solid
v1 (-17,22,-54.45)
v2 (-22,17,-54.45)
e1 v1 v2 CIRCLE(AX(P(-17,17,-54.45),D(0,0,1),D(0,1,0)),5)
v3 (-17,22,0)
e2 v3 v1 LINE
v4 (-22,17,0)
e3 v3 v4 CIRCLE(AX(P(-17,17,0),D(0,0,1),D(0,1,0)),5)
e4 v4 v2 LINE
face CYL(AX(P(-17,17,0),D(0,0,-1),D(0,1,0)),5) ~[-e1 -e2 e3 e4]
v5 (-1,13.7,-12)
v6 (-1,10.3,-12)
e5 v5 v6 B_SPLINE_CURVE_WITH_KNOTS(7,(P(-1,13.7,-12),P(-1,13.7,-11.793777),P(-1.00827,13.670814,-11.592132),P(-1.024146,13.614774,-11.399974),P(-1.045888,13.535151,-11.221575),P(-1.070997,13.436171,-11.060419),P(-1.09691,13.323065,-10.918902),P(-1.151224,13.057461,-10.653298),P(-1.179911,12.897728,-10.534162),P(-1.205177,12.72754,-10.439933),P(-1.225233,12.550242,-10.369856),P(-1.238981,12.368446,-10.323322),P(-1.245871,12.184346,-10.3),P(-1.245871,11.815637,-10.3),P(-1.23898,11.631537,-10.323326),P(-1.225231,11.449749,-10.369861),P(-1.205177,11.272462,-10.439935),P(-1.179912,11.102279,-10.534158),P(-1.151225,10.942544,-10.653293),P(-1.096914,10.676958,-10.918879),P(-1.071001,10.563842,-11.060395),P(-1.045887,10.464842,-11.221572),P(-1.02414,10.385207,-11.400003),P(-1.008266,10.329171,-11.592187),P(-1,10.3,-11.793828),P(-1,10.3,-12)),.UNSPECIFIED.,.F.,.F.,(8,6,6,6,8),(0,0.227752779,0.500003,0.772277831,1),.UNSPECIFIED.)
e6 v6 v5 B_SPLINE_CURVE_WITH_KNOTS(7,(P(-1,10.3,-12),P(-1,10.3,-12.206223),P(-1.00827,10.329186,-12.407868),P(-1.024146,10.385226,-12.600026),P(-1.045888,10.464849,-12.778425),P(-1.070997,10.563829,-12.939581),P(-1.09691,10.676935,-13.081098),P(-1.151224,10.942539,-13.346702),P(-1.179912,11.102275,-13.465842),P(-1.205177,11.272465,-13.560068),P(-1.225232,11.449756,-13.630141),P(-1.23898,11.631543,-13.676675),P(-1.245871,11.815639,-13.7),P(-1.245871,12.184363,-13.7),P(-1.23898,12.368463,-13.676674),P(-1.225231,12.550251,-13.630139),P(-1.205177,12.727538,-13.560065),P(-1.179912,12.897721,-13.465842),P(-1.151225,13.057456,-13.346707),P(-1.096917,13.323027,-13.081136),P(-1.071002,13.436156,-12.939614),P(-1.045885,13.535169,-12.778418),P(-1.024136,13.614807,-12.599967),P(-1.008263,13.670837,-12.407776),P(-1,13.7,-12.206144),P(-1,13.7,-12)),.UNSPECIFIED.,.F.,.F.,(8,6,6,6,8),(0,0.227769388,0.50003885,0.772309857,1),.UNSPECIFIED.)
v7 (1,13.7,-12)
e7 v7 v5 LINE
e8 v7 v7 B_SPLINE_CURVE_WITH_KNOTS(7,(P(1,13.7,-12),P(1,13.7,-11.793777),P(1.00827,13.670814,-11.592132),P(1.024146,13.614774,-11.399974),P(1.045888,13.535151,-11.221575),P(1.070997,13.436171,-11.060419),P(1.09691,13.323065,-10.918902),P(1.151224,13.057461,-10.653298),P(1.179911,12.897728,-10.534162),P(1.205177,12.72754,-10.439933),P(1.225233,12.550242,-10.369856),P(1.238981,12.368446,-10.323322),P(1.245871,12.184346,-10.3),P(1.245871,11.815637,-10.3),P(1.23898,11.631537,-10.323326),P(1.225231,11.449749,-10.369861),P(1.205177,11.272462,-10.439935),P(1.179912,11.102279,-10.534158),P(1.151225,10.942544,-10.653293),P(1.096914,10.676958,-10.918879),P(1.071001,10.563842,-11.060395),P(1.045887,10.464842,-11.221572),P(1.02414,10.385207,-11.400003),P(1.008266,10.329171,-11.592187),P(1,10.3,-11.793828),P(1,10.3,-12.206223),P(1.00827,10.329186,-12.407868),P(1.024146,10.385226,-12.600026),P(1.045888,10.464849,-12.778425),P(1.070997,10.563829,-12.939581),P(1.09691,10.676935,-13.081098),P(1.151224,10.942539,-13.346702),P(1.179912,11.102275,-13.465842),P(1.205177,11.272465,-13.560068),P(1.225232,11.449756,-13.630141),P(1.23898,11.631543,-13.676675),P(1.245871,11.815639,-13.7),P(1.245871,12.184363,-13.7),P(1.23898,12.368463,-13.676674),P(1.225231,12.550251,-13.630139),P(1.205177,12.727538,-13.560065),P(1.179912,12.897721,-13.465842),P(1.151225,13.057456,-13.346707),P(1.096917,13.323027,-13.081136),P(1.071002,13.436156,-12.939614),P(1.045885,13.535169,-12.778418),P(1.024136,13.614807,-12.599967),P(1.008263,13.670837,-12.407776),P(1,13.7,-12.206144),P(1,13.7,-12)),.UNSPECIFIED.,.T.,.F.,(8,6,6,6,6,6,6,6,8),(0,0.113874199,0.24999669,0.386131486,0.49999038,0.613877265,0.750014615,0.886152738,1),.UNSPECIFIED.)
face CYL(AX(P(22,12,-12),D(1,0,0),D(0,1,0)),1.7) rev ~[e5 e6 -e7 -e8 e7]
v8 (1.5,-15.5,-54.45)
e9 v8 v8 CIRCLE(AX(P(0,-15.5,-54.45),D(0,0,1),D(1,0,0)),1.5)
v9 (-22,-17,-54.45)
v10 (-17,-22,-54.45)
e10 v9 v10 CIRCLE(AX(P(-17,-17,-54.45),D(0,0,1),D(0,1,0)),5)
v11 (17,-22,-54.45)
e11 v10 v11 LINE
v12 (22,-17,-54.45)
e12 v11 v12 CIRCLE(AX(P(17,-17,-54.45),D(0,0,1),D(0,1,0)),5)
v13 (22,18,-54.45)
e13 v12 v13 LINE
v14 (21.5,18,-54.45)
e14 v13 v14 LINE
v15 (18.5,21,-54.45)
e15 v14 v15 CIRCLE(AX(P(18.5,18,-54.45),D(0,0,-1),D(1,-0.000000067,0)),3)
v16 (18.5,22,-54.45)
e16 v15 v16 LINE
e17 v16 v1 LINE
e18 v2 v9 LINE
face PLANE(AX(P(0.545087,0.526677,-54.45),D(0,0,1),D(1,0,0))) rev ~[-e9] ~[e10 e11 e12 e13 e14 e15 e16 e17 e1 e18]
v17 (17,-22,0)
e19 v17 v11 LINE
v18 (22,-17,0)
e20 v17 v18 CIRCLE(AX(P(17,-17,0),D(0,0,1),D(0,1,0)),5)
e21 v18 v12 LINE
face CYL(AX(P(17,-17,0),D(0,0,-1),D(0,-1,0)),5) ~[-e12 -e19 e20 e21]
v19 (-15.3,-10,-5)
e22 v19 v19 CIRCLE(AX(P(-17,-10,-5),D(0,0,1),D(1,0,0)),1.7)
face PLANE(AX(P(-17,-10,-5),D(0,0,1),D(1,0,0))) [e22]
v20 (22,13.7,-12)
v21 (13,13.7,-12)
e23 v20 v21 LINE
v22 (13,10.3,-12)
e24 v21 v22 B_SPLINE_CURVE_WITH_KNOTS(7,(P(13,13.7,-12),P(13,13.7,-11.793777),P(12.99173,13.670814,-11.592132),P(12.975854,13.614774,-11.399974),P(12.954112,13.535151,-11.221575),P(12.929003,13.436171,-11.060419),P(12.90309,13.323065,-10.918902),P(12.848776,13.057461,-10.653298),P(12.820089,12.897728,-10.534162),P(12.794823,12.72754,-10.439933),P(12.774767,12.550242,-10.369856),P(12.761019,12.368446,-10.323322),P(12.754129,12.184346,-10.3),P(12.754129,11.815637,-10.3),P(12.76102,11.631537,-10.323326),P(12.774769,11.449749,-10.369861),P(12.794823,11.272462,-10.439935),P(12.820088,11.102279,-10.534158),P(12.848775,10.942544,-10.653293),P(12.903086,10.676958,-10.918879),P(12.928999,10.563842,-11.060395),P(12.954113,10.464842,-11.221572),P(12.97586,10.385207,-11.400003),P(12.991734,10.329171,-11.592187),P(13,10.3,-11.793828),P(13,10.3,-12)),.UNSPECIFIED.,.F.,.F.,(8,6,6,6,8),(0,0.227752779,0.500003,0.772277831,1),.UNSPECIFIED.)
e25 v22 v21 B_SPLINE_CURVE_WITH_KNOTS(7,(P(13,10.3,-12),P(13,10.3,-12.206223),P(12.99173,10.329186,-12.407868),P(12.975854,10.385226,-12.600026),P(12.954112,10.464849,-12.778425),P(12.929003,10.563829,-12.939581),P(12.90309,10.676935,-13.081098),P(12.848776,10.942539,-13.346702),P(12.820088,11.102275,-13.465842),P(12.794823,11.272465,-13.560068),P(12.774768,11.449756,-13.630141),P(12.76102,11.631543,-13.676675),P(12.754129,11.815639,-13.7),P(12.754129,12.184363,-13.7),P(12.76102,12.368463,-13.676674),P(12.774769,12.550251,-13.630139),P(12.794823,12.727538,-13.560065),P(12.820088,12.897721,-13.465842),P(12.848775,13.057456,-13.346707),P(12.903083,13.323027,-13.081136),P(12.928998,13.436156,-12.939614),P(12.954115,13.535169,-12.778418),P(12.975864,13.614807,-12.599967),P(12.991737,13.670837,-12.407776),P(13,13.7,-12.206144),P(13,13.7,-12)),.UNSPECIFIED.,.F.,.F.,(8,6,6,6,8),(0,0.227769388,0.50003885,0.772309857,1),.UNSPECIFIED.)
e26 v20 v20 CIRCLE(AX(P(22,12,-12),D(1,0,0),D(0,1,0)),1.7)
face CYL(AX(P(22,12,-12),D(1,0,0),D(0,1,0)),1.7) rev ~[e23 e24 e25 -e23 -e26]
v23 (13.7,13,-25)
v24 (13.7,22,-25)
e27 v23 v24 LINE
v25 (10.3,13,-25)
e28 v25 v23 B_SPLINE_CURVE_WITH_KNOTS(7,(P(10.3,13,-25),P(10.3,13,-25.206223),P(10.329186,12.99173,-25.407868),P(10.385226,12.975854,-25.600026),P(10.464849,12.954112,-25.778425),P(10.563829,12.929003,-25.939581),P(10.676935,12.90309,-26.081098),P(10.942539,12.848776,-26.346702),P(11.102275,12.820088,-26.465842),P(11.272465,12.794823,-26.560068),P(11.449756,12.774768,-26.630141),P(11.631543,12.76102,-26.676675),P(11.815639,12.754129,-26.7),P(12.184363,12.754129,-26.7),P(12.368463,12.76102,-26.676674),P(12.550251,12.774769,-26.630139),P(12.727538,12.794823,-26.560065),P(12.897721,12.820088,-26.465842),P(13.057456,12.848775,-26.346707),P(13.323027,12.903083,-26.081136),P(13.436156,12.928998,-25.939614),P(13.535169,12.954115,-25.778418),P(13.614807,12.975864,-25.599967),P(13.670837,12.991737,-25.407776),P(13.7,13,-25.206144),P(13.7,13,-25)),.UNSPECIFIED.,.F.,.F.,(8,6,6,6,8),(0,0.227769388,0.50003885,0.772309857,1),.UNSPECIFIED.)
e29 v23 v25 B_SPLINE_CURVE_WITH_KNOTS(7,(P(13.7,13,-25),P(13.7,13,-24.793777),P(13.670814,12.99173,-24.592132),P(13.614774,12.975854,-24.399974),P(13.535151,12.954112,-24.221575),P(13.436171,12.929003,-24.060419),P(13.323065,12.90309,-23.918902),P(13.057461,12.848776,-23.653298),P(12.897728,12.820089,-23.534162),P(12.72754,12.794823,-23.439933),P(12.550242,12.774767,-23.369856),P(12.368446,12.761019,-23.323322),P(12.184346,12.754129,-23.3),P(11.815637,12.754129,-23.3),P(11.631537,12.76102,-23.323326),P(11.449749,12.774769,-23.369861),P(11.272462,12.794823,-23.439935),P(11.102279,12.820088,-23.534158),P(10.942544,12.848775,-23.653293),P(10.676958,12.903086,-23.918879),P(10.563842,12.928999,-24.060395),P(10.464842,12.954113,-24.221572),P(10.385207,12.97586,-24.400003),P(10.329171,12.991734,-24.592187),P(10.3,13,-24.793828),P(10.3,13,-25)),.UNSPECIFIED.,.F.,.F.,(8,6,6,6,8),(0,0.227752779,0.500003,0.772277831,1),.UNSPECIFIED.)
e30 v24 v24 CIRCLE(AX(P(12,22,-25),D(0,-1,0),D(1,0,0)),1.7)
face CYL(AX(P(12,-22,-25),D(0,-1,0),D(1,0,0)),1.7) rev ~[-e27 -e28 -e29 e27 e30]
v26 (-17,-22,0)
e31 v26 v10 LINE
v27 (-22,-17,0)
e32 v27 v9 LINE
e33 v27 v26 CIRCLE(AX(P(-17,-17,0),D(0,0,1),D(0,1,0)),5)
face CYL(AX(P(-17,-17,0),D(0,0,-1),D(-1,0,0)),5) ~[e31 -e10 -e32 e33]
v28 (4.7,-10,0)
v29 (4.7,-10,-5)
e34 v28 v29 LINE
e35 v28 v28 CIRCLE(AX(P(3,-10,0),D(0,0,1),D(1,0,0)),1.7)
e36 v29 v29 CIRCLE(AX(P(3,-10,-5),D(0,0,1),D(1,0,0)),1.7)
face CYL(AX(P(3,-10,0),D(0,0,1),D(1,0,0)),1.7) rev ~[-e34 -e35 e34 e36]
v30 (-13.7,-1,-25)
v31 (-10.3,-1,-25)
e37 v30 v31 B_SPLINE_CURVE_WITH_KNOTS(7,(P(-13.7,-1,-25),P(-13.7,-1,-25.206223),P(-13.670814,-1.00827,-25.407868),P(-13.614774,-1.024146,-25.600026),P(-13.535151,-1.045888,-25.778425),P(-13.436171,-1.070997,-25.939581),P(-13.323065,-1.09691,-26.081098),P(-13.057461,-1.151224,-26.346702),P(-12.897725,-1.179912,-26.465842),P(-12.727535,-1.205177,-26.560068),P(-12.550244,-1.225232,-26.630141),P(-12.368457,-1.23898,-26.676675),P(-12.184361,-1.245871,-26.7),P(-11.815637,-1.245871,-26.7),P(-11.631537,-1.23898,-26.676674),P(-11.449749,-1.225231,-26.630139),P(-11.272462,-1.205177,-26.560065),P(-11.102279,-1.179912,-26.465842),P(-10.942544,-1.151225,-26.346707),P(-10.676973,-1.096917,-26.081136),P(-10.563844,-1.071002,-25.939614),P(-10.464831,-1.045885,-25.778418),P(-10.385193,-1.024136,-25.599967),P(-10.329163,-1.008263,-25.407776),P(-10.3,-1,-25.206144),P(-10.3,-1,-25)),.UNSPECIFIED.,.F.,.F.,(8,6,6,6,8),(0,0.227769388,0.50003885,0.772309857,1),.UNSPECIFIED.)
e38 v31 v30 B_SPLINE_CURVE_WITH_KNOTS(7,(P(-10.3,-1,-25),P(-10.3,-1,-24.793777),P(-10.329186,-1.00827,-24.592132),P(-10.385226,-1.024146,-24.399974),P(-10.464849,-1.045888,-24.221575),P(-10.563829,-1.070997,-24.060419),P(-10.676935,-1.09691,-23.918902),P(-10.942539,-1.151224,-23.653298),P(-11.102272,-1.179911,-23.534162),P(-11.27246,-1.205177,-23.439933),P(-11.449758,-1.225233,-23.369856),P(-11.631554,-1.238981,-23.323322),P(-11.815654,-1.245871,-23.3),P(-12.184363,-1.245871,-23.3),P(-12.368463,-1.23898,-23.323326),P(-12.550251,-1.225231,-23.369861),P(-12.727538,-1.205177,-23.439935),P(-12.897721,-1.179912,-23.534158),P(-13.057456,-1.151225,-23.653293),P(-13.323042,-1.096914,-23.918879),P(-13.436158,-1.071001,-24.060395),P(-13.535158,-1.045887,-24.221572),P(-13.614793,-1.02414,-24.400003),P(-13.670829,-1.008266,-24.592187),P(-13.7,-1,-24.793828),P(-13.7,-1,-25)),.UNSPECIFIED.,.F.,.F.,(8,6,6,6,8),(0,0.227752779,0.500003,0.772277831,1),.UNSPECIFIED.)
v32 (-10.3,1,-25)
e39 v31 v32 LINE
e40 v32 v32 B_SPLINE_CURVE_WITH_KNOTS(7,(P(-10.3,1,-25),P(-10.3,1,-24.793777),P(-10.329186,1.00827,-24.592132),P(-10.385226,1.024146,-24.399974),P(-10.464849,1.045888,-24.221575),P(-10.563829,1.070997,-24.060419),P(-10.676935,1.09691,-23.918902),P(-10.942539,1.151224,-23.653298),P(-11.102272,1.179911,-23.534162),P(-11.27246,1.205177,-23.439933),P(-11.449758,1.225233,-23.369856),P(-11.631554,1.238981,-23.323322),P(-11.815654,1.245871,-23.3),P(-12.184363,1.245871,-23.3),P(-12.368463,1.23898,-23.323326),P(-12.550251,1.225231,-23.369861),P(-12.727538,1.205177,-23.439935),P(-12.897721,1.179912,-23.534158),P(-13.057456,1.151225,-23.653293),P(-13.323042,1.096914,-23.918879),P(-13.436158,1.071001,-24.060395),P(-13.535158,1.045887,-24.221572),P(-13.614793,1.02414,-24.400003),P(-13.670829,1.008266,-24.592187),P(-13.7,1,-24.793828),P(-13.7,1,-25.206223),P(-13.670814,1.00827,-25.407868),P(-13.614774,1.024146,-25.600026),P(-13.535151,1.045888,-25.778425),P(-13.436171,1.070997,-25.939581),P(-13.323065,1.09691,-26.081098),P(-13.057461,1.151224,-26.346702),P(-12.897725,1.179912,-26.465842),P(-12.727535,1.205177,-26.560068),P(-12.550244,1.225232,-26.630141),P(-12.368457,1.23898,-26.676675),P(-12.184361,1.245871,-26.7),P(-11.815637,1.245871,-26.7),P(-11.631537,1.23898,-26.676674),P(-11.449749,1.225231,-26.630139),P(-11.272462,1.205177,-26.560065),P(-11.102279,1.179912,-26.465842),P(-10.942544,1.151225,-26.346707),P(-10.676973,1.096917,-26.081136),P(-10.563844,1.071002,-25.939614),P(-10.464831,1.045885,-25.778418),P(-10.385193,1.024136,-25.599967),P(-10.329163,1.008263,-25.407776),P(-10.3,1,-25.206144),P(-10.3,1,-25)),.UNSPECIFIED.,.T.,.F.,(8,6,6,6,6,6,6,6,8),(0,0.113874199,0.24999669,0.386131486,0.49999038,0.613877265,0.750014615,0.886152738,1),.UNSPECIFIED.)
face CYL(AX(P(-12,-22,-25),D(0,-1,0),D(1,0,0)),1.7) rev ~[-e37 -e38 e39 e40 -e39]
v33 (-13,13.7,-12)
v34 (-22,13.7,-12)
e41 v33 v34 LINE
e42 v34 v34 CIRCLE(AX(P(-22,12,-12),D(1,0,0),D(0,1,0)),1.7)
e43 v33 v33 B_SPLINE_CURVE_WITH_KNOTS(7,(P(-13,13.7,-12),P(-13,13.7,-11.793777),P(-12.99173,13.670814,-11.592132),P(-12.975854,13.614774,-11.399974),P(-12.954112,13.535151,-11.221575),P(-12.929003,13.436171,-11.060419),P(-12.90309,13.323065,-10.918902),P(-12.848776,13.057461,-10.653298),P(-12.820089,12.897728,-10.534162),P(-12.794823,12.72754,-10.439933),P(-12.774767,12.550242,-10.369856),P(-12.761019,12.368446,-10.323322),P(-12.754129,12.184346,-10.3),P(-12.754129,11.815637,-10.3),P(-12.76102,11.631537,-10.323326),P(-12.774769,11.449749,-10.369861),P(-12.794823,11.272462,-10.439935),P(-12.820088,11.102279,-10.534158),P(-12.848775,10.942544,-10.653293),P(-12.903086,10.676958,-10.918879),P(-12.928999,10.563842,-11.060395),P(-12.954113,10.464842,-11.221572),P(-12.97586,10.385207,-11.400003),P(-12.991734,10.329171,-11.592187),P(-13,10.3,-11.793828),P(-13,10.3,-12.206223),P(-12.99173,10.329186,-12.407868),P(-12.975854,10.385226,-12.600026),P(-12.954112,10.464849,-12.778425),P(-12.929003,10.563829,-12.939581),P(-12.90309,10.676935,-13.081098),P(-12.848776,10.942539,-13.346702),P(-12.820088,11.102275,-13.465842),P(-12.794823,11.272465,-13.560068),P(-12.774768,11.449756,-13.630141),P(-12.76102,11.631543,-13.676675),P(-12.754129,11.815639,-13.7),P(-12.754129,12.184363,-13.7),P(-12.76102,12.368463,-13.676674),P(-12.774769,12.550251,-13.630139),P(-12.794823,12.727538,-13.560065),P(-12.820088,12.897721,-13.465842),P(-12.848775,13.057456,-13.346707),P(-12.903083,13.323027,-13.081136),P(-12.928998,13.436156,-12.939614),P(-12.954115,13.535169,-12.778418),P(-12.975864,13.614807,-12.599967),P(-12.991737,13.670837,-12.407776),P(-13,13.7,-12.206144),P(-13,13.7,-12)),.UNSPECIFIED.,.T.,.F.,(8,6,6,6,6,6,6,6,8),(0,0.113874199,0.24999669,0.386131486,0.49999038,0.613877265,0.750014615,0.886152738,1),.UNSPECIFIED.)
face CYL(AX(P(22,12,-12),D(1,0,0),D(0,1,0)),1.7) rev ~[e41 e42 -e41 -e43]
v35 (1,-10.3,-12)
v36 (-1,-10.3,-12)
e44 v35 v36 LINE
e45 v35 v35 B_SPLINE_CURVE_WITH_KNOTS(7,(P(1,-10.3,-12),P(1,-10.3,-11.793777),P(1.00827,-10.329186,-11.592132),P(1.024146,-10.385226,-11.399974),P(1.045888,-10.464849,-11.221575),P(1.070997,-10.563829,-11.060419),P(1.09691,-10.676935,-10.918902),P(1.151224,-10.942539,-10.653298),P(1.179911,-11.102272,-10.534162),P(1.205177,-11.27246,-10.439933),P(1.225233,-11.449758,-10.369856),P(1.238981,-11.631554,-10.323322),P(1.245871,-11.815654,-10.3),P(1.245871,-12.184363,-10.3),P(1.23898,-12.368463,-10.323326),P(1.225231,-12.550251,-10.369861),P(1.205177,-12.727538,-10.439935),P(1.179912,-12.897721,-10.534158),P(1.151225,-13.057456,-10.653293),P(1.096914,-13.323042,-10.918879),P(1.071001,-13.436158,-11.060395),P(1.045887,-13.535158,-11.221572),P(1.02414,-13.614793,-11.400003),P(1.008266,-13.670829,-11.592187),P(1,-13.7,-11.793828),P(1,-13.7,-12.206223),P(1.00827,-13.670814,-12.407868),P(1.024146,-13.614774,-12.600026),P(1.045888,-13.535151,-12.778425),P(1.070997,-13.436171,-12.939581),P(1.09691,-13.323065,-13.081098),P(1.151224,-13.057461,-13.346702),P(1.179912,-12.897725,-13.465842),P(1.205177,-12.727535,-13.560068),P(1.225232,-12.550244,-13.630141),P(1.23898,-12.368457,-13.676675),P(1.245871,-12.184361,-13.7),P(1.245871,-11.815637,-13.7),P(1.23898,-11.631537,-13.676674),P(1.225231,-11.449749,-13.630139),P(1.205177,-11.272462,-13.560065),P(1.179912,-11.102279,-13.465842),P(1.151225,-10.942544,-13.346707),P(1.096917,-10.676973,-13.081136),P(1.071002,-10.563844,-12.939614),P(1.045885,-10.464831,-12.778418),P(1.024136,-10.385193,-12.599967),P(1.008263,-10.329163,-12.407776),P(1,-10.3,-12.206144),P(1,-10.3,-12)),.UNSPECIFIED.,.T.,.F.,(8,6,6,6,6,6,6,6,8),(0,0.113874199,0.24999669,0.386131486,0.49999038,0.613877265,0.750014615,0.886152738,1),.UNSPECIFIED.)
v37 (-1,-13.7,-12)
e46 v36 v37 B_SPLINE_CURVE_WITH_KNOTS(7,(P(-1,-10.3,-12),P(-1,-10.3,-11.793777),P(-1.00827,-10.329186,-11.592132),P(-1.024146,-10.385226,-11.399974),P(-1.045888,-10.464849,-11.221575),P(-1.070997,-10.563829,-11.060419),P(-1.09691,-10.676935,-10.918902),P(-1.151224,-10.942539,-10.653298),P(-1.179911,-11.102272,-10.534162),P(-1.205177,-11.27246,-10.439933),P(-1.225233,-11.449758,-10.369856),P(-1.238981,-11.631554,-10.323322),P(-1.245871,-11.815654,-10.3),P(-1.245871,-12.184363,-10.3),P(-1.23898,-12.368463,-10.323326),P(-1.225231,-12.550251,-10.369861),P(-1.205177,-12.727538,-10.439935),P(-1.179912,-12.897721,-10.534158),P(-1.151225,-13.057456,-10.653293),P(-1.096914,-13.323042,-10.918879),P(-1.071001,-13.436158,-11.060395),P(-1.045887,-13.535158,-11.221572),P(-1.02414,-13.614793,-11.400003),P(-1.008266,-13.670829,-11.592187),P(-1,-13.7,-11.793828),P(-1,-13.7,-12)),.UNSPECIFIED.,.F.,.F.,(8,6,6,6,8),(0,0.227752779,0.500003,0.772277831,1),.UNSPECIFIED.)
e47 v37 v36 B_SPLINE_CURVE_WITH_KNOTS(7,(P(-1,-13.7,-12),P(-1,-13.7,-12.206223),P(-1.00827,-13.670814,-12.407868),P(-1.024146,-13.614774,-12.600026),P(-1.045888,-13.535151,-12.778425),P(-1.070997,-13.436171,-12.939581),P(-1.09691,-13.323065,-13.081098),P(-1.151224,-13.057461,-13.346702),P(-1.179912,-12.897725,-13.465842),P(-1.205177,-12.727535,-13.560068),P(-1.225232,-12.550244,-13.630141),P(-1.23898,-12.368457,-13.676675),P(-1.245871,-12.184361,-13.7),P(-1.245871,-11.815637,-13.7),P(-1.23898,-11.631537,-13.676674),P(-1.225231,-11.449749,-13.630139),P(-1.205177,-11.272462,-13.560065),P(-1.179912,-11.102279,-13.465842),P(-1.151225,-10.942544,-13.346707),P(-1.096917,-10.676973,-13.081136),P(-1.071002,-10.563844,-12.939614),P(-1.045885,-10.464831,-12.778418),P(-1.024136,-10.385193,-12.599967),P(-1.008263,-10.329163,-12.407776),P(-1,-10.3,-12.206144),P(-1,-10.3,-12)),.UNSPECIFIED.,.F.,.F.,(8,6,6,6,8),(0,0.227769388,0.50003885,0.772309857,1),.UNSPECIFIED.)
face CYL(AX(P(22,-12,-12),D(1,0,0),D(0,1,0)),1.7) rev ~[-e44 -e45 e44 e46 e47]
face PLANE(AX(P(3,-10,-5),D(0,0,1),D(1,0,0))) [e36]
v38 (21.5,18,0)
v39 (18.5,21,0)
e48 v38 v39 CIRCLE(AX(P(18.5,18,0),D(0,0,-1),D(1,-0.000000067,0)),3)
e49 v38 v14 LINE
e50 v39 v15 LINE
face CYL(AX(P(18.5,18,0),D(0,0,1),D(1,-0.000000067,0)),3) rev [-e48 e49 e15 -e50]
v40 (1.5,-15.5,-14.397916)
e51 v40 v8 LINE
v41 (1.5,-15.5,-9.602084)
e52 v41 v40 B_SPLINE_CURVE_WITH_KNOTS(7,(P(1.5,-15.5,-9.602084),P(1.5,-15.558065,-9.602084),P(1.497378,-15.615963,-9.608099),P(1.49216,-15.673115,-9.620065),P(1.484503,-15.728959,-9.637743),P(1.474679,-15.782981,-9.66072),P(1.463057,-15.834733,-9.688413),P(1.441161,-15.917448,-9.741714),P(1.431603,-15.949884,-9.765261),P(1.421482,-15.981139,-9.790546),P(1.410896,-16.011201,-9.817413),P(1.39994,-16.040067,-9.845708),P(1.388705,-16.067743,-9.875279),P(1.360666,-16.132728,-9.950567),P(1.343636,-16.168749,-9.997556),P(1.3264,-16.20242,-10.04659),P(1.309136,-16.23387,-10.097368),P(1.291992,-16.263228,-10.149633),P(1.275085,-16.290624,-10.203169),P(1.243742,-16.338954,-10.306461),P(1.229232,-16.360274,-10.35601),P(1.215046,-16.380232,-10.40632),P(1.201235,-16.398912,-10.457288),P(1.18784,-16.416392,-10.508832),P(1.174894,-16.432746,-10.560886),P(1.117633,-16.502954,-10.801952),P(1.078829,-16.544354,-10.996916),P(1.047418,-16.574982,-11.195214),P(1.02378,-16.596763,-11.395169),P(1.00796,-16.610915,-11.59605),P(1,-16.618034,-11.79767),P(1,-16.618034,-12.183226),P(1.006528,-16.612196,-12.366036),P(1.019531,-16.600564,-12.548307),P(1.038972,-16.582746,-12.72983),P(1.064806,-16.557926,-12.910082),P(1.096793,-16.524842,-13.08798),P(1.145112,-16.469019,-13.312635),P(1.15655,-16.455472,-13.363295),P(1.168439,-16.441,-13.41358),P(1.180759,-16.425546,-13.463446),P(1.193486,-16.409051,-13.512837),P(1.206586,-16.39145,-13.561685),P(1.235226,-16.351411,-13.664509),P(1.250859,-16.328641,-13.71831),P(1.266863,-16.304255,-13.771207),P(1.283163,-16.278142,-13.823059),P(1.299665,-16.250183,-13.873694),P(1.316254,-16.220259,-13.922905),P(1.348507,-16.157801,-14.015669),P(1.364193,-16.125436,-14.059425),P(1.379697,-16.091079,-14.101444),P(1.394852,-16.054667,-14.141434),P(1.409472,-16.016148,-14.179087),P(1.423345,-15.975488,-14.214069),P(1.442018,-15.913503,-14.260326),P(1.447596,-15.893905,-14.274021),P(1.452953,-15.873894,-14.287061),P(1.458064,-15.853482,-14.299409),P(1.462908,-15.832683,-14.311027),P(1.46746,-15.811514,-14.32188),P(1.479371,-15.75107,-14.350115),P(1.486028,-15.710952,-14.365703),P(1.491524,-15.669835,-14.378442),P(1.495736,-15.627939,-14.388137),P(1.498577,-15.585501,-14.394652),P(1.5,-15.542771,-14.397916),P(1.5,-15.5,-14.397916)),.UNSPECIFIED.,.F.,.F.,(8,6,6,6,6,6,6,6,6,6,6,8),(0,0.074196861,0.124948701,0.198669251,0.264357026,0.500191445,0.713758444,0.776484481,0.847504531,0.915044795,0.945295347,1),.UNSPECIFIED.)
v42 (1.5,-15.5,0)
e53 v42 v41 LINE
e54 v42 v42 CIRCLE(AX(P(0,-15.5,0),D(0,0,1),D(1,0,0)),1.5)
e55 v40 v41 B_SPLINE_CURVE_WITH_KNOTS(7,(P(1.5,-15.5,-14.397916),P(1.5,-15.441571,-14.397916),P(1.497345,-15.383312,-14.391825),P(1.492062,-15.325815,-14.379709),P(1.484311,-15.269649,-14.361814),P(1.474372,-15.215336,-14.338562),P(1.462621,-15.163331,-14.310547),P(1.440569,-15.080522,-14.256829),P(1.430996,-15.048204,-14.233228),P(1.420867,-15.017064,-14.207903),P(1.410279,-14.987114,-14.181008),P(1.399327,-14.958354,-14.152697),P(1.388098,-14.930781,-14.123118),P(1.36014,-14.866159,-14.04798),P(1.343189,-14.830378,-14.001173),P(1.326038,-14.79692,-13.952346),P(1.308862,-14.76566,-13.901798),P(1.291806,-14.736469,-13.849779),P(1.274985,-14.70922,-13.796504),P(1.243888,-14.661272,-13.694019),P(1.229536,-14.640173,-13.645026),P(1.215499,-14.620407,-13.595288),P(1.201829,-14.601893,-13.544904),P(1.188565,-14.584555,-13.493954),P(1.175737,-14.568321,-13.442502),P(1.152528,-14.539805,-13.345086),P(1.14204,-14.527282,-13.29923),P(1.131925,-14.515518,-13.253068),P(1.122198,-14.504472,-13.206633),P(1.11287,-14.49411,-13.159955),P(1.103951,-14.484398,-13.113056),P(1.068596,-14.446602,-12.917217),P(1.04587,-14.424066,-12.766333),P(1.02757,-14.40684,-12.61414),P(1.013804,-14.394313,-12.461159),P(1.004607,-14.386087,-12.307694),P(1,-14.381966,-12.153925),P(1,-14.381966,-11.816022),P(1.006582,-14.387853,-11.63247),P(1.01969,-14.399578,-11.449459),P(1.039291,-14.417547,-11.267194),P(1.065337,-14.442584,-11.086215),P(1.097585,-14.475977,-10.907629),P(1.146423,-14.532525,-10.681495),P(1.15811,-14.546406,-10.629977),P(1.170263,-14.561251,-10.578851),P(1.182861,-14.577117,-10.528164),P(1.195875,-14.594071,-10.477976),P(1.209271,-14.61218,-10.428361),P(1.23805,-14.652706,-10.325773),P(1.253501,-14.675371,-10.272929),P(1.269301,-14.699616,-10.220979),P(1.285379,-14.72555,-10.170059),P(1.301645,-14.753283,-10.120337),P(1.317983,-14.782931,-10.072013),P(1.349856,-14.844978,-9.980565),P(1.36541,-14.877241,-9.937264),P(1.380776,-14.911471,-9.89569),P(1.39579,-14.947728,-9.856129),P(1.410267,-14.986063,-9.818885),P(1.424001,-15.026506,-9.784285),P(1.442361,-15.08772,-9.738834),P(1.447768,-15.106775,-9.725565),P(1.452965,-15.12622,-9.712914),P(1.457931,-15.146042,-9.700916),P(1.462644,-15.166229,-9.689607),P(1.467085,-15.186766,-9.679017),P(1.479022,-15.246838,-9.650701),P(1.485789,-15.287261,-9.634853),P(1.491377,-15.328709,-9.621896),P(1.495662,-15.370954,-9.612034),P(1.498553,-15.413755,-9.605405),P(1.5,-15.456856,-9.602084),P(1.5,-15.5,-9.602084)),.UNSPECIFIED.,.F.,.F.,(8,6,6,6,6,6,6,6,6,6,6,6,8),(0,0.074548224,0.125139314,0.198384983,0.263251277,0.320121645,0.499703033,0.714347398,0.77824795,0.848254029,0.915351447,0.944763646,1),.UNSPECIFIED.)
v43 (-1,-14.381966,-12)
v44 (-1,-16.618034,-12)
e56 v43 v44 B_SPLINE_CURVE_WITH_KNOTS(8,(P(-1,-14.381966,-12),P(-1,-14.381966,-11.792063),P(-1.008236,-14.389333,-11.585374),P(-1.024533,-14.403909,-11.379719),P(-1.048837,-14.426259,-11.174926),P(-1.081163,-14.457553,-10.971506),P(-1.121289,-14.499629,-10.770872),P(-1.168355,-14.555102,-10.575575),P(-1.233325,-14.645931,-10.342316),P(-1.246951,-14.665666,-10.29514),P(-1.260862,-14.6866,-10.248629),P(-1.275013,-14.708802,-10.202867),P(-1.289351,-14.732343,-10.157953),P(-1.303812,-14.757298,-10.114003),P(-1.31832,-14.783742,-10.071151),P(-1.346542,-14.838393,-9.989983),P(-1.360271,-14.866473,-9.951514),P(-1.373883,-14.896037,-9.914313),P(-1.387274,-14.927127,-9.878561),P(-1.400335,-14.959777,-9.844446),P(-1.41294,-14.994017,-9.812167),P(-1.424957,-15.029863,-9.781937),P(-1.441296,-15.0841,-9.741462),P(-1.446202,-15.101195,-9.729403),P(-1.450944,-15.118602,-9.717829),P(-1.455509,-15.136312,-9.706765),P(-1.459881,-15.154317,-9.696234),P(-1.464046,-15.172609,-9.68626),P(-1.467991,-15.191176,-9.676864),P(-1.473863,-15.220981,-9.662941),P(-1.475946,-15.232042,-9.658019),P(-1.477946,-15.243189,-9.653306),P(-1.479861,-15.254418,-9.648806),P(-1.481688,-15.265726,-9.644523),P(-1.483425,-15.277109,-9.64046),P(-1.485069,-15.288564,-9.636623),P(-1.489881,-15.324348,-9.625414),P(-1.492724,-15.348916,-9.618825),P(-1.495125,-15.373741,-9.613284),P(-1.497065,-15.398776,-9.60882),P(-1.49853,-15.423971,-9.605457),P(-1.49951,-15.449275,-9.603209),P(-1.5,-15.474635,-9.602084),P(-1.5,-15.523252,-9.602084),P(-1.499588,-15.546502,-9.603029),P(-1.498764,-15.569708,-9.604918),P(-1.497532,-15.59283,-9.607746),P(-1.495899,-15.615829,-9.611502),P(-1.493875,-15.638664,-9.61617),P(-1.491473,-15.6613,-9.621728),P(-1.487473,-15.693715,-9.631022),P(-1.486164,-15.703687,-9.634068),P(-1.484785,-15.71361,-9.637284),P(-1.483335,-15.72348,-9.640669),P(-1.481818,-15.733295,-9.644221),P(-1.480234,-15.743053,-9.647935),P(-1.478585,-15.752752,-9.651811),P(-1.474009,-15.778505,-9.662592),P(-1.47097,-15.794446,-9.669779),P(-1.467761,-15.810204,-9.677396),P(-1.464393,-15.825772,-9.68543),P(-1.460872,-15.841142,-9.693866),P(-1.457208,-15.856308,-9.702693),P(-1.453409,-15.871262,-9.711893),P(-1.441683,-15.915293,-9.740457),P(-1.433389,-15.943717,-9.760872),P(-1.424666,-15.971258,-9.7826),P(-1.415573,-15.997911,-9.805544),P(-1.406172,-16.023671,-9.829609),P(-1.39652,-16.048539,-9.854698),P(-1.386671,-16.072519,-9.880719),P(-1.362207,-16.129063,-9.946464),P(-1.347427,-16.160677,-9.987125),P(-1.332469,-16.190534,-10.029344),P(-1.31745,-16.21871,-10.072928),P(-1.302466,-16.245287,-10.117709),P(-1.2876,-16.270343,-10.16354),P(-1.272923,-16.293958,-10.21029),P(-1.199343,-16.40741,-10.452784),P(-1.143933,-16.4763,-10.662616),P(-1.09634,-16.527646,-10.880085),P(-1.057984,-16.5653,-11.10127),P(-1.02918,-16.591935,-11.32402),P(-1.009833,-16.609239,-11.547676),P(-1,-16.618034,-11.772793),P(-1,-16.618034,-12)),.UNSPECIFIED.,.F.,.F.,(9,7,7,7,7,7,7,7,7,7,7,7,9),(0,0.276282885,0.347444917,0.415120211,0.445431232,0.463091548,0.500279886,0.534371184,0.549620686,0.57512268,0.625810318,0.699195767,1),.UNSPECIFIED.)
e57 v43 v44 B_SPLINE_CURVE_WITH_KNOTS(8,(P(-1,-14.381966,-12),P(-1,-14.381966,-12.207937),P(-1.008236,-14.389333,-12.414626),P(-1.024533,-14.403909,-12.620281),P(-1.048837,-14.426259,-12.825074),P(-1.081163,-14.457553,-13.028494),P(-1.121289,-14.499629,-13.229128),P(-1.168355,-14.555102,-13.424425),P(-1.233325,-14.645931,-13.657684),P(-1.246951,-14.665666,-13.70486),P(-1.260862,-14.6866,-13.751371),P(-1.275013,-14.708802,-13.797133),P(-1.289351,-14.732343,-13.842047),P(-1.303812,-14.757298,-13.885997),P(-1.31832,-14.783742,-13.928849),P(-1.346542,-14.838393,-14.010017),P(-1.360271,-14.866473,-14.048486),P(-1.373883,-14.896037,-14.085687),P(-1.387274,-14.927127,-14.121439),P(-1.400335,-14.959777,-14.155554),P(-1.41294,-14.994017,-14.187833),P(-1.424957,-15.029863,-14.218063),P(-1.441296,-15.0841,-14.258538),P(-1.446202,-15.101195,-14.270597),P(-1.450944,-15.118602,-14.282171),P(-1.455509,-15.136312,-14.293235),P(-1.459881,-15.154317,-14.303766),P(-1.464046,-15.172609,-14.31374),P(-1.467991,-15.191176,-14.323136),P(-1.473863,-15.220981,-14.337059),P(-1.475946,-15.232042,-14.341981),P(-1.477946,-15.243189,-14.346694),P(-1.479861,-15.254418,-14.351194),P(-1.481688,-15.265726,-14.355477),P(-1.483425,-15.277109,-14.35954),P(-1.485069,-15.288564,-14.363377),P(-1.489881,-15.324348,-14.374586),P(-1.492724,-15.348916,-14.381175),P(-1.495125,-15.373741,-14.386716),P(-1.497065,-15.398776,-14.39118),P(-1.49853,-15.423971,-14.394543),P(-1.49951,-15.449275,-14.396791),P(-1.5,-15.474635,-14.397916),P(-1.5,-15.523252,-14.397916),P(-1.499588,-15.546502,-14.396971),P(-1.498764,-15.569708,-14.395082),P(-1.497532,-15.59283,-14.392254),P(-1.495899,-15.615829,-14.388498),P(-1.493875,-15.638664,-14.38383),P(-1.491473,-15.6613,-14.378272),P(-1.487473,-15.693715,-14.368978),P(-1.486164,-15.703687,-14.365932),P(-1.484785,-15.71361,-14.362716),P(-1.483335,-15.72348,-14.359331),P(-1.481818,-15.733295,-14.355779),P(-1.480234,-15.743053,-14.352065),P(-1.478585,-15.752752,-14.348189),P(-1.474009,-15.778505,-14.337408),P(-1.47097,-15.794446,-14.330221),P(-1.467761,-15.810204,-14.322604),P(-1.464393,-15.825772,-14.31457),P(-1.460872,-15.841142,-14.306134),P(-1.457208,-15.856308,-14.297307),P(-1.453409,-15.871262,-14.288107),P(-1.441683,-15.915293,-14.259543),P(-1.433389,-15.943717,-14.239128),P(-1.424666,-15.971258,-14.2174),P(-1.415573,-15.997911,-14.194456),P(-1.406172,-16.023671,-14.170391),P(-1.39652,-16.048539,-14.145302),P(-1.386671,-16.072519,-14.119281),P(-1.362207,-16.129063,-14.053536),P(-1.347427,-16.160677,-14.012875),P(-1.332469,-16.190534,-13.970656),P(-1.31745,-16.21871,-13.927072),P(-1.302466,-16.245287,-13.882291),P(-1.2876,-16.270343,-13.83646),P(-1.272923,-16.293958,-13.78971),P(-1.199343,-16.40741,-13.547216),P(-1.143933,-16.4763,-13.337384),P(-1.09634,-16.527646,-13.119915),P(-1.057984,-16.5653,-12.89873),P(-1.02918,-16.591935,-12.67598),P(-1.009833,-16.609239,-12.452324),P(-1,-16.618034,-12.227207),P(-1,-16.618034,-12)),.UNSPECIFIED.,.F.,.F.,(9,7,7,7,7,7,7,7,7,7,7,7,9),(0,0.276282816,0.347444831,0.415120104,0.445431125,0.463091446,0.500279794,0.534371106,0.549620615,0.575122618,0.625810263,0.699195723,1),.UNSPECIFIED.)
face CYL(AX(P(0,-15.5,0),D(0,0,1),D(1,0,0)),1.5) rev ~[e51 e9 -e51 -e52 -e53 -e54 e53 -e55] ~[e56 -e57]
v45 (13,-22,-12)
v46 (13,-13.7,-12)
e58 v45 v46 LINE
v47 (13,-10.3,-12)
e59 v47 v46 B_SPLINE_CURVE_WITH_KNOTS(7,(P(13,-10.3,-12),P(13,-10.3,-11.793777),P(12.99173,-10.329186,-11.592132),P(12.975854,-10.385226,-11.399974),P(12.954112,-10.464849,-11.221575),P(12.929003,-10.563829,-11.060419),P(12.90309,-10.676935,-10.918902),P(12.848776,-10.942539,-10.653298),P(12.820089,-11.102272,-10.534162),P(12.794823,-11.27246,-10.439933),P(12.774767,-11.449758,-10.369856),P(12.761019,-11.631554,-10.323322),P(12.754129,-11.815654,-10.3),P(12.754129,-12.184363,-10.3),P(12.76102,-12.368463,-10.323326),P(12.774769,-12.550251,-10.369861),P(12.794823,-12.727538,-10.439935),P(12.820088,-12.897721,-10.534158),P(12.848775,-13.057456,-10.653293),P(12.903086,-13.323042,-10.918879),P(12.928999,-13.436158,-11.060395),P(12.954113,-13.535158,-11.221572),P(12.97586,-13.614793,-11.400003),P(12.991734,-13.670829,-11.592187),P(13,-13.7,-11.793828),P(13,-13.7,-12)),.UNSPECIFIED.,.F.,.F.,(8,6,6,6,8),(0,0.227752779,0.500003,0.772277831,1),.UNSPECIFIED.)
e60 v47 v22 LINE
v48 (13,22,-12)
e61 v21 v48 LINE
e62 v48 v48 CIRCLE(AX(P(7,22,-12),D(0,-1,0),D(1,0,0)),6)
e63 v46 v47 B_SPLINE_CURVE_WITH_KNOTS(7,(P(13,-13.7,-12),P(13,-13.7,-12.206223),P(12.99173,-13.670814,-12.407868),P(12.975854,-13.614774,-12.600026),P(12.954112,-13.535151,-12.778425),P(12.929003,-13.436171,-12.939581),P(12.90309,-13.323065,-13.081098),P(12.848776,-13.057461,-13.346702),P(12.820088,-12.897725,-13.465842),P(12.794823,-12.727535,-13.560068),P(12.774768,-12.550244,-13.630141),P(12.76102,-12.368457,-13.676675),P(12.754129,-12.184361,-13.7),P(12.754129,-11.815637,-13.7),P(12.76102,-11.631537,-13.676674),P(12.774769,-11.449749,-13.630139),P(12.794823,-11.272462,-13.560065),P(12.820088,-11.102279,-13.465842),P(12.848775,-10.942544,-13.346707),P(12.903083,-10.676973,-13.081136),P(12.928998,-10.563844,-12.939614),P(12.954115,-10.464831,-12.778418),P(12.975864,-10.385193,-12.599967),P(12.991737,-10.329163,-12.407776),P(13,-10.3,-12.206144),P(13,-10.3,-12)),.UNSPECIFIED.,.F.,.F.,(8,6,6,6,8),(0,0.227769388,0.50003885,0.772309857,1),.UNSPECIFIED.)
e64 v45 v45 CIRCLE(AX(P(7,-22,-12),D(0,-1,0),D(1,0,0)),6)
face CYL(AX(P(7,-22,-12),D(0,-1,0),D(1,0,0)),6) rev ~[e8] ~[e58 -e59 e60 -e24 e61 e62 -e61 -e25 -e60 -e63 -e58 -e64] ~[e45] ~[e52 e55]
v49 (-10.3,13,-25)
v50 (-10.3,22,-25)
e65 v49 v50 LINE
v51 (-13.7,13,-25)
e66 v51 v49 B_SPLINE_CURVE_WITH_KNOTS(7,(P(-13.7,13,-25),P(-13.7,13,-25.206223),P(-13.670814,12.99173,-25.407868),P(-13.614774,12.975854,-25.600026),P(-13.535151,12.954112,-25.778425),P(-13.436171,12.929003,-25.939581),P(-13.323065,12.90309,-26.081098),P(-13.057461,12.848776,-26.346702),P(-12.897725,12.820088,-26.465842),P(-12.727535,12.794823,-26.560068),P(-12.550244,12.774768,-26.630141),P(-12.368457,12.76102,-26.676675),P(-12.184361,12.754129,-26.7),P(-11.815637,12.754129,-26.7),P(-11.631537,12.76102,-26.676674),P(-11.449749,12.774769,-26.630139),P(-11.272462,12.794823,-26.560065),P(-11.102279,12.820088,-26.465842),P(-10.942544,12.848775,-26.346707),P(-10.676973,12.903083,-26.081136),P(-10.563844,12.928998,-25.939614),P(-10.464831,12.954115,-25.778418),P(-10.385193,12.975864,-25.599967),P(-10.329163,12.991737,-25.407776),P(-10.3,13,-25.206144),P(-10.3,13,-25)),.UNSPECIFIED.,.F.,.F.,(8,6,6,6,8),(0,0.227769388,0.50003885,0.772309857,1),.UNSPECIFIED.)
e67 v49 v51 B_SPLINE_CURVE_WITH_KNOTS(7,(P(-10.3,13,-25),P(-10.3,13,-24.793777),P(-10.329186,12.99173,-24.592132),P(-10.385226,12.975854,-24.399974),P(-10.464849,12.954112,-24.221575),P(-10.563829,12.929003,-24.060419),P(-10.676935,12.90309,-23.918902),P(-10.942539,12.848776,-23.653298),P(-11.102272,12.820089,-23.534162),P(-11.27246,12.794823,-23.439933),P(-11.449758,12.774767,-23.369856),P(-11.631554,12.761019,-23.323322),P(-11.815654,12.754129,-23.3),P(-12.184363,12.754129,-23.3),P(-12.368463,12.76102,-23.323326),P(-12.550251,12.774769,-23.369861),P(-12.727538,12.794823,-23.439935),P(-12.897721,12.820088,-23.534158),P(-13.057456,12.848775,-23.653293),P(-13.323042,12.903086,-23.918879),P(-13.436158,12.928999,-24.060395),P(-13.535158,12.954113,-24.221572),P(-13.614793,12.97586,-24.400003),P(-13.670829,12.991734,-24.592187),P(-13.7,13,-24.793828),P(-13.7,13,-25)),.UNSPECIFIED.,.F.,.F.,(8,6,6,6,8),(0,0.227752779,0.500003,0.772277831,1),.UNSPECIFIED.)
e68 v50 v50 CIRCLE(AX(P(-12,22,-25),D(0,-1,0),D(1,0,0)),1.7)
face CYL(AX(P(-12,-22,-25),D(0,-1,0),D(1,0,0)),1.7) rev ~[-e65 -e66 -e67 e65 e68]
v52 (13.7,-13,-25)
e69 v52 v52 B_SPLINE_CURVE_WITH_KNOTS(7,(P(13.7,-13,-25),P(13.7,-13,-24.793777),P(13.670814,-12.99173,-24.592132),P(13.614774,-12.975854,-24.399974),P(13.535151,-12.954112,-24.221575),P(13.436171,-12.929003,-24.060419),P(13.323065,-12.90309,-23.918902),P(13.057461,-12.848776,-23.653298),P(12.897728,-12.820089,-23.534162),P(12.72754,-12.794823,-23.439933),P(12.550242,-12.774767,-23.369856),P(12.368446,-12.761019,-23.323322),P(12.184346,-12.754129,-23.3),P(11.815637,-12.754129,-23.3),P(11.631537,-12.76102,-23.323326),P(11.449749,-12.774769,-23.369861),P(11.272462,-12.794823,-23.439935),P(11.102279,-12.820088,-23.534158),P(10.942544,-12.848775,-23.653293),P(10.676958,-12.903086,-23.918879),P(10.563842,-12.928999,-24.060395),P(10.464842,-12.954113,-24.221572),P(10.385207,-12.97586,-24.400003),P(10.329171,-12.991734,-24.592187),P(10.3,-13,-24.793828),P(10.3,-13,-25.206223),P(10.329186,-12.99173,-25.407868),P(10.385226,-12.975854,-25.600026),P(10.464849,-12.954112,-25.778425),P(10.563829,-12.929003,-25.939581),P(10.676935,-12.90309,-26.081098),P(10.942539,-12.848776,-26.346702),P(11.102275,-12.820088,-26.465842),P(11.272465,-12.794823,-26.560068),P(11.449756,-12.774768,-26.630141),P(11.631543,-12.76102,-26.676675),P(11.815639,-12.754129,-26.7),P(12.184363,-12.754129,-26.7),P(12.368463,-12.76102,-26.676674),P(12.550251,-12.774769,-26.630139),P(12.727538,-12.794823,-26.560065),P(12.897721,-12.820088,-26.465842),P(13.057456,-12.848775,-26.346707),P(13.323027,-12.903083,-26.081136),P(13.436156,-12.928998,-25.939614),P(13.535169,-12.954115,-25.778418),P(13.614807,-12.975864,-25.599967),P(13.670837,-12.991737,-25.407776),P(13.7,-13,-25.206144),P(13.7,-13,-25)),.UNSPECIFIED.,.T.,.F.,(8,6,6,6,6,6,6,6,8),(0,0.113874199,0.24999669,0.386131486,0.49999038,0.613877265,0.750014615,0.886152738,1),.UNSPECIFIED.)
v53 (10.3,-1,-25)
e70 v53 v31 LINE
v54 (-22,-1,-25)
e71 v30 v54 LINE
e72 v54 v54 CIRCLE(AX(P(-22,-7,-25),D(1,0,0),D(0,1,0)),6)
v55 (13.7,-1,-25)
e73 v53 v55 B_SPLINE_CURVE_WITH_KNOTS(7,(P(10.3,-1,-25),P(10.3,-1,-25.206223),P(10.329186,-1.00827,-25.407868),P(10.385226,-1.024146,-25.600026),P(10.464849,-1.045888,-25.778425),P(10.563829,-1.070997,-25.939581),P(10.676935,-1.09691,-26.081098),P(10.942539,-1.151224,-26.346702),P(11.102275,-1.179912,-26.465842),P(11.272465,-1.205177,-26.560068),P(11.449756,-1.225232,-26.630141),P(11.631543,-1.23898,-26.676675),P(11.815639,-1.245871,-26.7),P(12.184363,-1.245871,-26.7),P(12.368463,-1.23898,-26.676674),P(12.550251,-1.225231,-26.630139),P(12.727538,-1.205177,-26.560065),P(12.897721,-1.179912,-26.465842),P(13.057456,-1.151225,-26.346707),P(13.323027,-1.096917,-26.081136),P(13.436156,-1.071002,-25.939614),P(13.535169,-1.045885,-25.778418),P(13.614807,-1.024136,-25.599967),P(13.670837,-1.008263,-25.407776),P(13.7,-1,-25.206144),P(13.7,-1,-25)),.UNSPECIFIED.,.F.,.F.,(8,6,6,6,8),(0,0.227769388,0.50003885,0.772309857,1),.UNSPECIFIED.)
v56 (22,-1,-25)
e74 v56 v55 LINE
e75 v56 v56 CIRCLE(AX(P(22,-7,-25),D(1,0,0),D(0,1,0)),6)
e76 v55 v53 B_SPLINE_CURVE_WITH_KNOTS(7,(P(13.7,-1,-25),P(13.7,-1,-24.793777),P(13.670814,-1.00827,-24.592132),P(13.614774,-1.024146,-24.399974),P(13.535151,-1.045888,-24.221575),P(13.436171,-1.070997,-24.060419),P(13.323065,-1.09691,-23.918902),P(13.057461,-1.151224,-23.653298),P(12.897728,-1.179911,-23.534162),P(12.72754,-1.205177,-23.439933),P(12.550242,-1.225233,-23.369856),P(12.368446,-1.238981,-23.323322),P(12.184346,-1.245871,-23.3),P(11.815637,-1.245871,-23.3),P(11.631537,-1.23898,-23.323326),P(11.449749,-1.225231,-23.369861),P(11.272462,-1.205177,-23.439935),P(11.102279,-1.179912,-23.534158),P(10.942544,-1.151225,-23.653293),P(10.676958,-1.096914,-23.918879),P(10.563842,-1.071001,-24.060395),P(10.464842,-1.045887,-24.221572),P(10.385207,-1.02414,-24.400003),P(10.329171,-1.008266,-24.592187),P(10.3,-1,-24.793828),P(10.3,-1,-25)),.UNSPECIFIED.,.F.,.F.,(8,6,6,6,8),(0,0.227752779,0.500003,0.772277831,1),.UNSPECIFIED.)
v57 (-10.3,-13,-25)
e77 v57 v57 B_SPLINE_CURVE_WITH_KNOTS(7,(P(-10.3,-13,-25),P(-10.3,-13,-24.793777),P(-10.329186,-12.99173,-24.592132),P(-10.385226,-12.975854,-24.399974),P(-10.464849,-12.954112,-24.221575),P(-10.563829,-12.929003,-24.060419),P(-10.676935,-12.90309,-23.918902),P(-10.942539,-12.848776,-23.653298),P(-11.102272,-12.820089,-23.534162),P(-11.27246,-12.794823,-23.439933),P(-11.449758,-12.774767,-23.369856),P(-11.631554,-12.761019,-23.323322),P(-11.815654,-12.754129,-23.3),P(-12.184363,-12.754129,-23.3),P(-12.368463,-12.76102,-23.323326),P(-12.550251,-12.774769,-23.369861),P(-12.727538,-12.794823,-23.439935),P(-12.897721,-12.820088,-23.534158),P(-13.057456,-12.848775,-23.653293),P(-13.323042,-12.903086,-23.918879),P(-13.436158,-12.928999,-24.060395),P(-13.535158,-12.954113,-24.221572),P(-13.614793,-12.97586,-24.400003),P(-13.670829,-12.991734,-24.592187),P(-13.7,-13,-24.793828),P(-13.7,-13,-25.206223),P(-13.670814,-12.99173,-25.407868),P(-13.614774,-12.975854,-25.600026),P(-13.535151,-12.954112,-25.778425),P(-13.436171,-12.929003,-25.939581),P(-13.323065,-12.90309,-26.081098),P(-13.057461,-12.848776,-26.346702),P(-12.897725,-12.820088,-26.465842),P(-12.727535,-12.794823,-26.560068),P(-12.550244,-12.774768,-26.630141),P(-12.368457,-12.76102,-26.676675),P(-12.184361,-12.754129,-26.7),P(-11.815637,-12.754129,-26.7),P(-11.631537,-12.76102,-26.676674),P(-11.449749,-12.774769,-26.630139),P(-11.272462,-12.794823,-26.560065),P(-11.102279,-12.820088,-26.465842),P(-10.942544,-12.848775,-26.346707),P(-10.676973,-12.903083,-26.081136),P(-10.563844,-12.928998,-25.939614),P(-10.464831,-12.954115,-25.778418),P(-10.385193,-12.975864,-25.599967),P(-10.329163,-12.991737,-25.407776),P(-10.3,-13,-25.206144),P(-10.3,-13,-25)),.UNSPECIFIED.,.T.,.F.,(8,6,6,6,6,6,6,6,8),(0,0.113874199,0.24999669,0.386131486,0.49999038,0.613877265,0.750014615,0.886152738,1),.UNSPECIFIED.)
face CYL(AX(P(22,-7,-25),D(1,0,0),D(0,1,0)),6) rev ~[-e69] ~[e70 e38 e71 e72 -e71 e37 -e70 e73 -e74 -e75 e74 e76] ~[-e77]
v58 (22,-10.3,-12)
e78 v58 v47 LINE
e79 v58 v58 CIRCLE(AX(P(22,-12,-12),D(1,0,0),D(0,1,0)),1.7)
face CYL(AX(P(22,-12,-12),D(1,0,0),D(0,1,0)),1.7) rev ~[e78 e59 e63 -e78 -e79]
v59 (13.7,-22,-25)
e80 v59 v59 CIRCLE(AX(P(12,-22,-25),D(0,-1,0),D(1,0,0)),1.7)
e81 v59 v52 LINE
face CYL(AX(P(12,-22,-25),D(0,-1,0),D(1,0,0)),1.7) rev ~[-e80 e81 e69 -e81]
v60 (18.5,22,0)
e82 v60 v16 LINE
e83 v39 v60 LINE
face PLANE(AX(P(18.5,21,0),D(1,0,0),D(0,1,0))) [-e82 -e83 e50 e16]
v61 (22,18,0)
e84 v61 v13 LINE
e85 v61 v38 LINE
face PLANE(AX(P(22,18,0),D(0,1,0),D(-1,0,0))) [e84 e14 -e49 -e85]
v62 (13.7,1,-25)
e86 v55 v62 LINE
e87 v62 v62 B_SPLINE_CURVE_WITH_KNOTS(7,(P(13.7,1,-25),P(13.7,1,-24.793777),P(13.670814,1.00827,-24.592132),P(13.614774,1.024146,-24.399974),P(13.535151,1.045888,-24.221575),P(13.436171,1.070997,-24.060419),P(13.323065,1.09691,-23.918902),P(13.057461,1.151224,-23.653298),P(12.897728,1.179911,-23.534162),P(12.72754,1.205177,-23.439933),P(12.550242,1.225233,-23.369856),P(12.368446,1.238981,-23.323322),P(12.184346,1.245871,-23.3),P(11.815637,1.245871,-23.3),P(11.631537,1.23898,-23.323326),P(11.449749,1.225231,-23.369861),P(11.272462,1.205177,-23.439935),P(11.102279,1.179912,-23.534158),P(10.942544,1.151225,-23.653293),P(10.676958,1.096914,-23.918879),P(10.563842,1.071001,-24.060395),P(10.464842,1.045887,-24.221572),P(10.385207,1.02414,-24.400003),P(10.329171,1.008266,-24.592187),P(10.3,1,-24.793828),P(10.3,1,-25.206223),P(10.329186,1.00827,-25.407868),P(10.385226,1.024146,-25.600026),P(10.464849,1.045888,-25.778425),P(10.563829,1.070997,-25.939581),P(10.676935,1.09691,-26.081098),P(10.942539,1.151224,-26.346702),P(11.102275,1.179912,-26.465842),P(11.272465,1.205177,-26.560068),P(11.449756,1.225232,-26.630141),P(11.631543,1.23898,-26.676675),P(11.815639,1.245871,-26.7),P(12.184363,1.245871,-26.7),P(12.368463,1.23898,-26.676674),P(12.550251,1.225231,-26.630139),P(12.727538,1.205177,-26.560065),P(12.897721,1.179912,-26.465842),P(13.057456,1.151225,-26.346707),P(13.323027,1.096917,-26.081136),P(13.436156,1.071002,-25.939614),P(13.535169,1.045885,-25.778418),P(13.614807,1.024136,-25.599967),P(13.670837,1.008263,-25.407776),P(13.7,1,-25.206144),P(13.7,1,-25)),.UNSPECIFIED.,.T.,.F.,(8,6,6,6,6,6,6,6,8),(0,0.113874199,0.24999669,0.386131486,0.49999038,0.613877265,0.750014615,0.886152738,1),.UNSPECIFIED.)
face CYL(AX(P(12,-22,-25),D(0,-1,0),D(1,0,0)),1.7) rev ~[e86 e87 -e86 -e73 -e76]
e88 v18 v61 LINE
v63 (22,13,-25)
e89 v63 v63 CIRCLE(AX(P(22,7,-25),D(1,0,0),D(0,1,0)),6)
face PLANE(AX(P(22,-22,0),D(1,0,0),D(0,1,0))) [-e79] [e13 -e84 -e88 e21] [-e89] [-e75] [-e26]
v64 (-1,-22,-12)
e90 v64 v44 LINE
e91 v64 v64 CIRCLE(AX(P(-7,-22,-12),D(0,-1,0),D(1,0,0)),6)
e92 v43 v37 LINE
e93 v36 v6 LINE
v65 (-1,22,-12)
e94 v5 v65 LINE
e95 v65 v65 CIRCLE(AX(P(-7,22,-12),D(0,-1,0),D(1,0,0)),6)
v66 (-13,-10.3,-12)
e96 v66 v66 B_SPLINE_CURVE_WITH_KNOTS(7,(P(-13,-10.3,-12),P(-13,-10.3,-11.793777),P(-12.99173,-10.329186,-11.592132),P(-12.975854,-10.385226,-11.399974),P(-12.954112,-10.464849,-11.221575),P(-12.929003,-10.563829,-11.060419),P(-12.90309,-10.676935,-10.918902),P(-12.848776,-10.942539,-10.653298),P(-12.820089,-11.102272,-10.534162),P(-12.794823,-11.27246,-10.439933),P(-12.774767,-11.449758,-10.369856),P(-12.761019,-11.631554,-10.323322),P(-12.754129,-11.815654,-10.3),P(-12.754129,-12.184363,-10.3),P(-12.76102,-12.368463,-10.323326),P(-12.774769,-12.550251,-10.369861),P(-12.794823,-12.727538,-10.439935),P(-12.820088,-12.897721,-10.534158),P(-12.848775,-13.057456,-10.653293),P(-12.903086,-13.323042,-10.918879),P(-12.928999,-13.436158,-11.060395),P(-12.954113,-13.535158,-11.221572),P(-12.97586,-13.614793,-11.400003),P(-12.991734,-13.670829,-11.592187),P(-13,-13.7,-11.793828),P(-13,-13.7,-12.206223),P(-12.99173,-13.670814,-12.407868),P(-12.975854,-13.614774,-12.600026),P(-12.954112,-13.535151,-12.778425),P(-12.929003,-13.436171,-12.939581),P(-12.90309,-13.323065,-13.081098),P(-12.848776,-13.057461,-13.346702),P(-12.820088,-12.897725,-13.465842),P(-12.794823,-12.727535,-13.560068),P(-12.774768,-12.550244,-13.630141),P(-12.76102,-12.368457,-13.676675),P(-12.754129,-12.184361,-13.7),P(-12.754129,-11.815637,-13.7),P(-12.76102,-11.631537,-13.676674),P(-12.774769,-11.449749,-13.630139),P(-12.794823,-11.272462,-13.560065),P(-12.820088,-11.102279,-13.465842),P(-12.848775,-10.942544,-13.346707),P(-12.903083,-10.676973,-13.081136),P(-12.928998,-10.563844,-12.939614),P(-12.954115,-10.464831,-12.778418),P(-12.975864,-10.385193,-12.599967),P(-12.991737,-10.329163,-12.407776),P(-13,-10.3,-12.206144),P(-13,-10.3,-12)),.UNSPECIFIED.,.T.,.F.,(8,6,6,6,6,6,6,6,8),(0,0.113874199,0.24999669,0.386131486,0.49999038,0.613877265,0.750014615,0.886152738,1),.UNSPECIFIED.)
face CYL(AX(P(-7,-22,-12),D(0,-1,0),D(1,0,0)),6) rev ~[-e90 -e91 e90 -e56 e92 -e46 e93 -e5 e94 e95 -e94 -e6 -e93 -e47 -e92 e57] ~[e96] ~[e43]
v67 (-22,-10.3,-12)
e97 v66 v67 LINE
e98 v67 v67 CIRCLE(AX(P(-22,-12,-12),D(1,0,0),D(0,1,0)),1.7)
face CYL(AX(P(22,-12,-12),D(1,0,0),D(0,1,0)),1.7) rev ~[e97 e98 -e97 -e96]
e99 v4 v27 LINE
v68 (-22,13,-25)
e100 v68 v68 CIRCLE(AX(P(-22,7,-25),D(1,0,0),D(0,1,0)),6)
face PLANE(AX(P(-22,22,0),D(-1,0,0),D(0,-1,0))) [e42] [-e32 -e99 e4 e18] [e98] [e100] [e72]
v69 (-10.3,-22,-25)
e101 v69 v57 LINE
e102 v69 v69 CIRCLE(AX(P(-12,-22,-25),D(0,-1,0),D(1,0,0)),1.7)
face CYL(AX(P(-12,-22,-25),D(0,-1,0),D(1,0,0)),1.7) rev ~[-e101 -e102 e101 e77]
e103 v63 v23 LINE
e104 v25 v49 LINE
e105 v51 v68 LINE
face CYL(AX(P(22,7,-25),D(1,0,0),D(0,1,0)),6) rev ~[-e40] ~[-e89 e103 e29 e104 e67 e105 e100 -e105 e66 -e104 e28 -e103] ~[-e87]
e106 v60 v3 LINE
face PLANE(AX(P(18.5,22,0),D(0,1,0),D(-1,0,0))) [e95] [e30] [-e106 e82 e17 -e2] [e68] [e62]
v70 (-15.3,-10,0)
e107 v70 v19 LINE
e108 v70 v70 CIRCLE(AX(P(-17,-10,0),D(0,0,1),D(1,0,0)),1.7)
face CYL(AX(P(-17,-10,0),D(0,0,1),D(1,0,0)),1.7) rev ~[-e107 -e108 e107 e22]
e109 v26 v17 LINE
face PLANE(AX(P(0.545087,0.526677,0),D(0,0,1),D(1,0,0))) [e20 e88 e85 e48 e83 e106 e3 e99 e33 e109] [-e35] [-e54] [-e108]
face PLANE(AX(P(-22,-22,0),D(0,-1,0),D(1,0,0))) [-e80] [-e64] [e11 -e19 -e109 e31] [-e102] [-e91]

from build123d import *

# Parameters (mm, degrees)
F0_R     = 1.7
F0_R_2   = 1.5
F1_DEPTH = 54.45
F2_R     = 1.7
F2_R_2   = 6
F3_DEPTH = 44
F4_R     = 1.7
F4_R_2   = 6
F5_DEPTH = 44
F6_R     = 5
F7_DEPTH = 55
F8_DEPTH = 5


with BuildPart() as f1:
    # F0 (on Top) → F1 (new body)
    with BuildSketch(Plane.XY):
        with BuildLine():
            Line((18.5, 22), (-22, 22))
            Line((-22, 22), (-22, -22))
            Line((-22, -22), (22, -22))
            Line((22, -22), (22, 18))
            Line((22, 18), (21.5, 18))
            ThreePointArc((21.5, 18), (16.37868, 15.87868), (18.5, 21))
            Line((18.5, 21), (18.5, 22))
        make_face()
        with Locations((-17, -10)):
            Circle(F0_R, mode=Mode.SUBTRACT)
        with Locations((0, -15.5)):
            Circle(F0_R_2, mode=Mode.SUBTRACT)
        with Locations((3, -10)):
            Circle(F0_R, mode=Mode.SUBTRACT)
        with Locations((-17, -10)):
            Circle(F0_R)
        with Locations((0, -15.5)):
            Circle(F0_R_2)
        with Locations((3, -10)):
            Circle(F0_R)
    extrude(amount=-F1_DEPTH)

    # F2 (on face) → F3 (cut)
    with BuildSketch(Plane.XZ.offset(22)):
        with Locations((-12, -25)):
            Circle(F2_R)
        with Locations((12, -25)):
            Circle(F2_R)
        with Locations((-7, -12)):
            Circle(F2_R_2)
        with Locations((7, -12)):
            Circle(F2_R_2)
    extrude(amount=-F3_DEPTH, mode=Mode.SUBTRACT)

    # F4 (on face) → F5 (cut)
    with BuildSketch(Plane.YZ.offset(22)):
        with Locations((-12, -12)):
            Circle(F4_R)
        with Locations((12, -12)):
            Circle(F4_R)
        with Locations((-7, -25)):
            Circle(F4_R_2)
        with Locations((7, -25)):
            Circle(F4_R_2)
    extrude(amount=-F5_DEPTH, mode=Mode.SUBTRACT)

    # F6
    f6_edges = [f1.edges().sort_by_distance(p)[0] for p in [
        (22, -22, -27.225),
        (-22, -22, -27.225),
        (-22, 22, -27.225),
    ]]
    fillet(f6_edges, radius=F6_R)

    # F0 (on Top) → F7 (cut)
    with BuildSketch(Plane.XY):
        with Locations((0, -15.5)):
            Circle(F0_R_2)
    extrude(amount=-F7_DEPTH, mode=Mode.SUBTRACT)

    # F0 (on Top) → F8 (cut)
    with BuildSketch(Plane.XY):
        with Locations((-17, -10)):
            Circle(F0_R)
        with Locations((3, -10)):
            Circle(F0_R)
    extrude(amount=-F8_DEPTH, mode=Mode.SUBTRACT)


solid = f1.part
